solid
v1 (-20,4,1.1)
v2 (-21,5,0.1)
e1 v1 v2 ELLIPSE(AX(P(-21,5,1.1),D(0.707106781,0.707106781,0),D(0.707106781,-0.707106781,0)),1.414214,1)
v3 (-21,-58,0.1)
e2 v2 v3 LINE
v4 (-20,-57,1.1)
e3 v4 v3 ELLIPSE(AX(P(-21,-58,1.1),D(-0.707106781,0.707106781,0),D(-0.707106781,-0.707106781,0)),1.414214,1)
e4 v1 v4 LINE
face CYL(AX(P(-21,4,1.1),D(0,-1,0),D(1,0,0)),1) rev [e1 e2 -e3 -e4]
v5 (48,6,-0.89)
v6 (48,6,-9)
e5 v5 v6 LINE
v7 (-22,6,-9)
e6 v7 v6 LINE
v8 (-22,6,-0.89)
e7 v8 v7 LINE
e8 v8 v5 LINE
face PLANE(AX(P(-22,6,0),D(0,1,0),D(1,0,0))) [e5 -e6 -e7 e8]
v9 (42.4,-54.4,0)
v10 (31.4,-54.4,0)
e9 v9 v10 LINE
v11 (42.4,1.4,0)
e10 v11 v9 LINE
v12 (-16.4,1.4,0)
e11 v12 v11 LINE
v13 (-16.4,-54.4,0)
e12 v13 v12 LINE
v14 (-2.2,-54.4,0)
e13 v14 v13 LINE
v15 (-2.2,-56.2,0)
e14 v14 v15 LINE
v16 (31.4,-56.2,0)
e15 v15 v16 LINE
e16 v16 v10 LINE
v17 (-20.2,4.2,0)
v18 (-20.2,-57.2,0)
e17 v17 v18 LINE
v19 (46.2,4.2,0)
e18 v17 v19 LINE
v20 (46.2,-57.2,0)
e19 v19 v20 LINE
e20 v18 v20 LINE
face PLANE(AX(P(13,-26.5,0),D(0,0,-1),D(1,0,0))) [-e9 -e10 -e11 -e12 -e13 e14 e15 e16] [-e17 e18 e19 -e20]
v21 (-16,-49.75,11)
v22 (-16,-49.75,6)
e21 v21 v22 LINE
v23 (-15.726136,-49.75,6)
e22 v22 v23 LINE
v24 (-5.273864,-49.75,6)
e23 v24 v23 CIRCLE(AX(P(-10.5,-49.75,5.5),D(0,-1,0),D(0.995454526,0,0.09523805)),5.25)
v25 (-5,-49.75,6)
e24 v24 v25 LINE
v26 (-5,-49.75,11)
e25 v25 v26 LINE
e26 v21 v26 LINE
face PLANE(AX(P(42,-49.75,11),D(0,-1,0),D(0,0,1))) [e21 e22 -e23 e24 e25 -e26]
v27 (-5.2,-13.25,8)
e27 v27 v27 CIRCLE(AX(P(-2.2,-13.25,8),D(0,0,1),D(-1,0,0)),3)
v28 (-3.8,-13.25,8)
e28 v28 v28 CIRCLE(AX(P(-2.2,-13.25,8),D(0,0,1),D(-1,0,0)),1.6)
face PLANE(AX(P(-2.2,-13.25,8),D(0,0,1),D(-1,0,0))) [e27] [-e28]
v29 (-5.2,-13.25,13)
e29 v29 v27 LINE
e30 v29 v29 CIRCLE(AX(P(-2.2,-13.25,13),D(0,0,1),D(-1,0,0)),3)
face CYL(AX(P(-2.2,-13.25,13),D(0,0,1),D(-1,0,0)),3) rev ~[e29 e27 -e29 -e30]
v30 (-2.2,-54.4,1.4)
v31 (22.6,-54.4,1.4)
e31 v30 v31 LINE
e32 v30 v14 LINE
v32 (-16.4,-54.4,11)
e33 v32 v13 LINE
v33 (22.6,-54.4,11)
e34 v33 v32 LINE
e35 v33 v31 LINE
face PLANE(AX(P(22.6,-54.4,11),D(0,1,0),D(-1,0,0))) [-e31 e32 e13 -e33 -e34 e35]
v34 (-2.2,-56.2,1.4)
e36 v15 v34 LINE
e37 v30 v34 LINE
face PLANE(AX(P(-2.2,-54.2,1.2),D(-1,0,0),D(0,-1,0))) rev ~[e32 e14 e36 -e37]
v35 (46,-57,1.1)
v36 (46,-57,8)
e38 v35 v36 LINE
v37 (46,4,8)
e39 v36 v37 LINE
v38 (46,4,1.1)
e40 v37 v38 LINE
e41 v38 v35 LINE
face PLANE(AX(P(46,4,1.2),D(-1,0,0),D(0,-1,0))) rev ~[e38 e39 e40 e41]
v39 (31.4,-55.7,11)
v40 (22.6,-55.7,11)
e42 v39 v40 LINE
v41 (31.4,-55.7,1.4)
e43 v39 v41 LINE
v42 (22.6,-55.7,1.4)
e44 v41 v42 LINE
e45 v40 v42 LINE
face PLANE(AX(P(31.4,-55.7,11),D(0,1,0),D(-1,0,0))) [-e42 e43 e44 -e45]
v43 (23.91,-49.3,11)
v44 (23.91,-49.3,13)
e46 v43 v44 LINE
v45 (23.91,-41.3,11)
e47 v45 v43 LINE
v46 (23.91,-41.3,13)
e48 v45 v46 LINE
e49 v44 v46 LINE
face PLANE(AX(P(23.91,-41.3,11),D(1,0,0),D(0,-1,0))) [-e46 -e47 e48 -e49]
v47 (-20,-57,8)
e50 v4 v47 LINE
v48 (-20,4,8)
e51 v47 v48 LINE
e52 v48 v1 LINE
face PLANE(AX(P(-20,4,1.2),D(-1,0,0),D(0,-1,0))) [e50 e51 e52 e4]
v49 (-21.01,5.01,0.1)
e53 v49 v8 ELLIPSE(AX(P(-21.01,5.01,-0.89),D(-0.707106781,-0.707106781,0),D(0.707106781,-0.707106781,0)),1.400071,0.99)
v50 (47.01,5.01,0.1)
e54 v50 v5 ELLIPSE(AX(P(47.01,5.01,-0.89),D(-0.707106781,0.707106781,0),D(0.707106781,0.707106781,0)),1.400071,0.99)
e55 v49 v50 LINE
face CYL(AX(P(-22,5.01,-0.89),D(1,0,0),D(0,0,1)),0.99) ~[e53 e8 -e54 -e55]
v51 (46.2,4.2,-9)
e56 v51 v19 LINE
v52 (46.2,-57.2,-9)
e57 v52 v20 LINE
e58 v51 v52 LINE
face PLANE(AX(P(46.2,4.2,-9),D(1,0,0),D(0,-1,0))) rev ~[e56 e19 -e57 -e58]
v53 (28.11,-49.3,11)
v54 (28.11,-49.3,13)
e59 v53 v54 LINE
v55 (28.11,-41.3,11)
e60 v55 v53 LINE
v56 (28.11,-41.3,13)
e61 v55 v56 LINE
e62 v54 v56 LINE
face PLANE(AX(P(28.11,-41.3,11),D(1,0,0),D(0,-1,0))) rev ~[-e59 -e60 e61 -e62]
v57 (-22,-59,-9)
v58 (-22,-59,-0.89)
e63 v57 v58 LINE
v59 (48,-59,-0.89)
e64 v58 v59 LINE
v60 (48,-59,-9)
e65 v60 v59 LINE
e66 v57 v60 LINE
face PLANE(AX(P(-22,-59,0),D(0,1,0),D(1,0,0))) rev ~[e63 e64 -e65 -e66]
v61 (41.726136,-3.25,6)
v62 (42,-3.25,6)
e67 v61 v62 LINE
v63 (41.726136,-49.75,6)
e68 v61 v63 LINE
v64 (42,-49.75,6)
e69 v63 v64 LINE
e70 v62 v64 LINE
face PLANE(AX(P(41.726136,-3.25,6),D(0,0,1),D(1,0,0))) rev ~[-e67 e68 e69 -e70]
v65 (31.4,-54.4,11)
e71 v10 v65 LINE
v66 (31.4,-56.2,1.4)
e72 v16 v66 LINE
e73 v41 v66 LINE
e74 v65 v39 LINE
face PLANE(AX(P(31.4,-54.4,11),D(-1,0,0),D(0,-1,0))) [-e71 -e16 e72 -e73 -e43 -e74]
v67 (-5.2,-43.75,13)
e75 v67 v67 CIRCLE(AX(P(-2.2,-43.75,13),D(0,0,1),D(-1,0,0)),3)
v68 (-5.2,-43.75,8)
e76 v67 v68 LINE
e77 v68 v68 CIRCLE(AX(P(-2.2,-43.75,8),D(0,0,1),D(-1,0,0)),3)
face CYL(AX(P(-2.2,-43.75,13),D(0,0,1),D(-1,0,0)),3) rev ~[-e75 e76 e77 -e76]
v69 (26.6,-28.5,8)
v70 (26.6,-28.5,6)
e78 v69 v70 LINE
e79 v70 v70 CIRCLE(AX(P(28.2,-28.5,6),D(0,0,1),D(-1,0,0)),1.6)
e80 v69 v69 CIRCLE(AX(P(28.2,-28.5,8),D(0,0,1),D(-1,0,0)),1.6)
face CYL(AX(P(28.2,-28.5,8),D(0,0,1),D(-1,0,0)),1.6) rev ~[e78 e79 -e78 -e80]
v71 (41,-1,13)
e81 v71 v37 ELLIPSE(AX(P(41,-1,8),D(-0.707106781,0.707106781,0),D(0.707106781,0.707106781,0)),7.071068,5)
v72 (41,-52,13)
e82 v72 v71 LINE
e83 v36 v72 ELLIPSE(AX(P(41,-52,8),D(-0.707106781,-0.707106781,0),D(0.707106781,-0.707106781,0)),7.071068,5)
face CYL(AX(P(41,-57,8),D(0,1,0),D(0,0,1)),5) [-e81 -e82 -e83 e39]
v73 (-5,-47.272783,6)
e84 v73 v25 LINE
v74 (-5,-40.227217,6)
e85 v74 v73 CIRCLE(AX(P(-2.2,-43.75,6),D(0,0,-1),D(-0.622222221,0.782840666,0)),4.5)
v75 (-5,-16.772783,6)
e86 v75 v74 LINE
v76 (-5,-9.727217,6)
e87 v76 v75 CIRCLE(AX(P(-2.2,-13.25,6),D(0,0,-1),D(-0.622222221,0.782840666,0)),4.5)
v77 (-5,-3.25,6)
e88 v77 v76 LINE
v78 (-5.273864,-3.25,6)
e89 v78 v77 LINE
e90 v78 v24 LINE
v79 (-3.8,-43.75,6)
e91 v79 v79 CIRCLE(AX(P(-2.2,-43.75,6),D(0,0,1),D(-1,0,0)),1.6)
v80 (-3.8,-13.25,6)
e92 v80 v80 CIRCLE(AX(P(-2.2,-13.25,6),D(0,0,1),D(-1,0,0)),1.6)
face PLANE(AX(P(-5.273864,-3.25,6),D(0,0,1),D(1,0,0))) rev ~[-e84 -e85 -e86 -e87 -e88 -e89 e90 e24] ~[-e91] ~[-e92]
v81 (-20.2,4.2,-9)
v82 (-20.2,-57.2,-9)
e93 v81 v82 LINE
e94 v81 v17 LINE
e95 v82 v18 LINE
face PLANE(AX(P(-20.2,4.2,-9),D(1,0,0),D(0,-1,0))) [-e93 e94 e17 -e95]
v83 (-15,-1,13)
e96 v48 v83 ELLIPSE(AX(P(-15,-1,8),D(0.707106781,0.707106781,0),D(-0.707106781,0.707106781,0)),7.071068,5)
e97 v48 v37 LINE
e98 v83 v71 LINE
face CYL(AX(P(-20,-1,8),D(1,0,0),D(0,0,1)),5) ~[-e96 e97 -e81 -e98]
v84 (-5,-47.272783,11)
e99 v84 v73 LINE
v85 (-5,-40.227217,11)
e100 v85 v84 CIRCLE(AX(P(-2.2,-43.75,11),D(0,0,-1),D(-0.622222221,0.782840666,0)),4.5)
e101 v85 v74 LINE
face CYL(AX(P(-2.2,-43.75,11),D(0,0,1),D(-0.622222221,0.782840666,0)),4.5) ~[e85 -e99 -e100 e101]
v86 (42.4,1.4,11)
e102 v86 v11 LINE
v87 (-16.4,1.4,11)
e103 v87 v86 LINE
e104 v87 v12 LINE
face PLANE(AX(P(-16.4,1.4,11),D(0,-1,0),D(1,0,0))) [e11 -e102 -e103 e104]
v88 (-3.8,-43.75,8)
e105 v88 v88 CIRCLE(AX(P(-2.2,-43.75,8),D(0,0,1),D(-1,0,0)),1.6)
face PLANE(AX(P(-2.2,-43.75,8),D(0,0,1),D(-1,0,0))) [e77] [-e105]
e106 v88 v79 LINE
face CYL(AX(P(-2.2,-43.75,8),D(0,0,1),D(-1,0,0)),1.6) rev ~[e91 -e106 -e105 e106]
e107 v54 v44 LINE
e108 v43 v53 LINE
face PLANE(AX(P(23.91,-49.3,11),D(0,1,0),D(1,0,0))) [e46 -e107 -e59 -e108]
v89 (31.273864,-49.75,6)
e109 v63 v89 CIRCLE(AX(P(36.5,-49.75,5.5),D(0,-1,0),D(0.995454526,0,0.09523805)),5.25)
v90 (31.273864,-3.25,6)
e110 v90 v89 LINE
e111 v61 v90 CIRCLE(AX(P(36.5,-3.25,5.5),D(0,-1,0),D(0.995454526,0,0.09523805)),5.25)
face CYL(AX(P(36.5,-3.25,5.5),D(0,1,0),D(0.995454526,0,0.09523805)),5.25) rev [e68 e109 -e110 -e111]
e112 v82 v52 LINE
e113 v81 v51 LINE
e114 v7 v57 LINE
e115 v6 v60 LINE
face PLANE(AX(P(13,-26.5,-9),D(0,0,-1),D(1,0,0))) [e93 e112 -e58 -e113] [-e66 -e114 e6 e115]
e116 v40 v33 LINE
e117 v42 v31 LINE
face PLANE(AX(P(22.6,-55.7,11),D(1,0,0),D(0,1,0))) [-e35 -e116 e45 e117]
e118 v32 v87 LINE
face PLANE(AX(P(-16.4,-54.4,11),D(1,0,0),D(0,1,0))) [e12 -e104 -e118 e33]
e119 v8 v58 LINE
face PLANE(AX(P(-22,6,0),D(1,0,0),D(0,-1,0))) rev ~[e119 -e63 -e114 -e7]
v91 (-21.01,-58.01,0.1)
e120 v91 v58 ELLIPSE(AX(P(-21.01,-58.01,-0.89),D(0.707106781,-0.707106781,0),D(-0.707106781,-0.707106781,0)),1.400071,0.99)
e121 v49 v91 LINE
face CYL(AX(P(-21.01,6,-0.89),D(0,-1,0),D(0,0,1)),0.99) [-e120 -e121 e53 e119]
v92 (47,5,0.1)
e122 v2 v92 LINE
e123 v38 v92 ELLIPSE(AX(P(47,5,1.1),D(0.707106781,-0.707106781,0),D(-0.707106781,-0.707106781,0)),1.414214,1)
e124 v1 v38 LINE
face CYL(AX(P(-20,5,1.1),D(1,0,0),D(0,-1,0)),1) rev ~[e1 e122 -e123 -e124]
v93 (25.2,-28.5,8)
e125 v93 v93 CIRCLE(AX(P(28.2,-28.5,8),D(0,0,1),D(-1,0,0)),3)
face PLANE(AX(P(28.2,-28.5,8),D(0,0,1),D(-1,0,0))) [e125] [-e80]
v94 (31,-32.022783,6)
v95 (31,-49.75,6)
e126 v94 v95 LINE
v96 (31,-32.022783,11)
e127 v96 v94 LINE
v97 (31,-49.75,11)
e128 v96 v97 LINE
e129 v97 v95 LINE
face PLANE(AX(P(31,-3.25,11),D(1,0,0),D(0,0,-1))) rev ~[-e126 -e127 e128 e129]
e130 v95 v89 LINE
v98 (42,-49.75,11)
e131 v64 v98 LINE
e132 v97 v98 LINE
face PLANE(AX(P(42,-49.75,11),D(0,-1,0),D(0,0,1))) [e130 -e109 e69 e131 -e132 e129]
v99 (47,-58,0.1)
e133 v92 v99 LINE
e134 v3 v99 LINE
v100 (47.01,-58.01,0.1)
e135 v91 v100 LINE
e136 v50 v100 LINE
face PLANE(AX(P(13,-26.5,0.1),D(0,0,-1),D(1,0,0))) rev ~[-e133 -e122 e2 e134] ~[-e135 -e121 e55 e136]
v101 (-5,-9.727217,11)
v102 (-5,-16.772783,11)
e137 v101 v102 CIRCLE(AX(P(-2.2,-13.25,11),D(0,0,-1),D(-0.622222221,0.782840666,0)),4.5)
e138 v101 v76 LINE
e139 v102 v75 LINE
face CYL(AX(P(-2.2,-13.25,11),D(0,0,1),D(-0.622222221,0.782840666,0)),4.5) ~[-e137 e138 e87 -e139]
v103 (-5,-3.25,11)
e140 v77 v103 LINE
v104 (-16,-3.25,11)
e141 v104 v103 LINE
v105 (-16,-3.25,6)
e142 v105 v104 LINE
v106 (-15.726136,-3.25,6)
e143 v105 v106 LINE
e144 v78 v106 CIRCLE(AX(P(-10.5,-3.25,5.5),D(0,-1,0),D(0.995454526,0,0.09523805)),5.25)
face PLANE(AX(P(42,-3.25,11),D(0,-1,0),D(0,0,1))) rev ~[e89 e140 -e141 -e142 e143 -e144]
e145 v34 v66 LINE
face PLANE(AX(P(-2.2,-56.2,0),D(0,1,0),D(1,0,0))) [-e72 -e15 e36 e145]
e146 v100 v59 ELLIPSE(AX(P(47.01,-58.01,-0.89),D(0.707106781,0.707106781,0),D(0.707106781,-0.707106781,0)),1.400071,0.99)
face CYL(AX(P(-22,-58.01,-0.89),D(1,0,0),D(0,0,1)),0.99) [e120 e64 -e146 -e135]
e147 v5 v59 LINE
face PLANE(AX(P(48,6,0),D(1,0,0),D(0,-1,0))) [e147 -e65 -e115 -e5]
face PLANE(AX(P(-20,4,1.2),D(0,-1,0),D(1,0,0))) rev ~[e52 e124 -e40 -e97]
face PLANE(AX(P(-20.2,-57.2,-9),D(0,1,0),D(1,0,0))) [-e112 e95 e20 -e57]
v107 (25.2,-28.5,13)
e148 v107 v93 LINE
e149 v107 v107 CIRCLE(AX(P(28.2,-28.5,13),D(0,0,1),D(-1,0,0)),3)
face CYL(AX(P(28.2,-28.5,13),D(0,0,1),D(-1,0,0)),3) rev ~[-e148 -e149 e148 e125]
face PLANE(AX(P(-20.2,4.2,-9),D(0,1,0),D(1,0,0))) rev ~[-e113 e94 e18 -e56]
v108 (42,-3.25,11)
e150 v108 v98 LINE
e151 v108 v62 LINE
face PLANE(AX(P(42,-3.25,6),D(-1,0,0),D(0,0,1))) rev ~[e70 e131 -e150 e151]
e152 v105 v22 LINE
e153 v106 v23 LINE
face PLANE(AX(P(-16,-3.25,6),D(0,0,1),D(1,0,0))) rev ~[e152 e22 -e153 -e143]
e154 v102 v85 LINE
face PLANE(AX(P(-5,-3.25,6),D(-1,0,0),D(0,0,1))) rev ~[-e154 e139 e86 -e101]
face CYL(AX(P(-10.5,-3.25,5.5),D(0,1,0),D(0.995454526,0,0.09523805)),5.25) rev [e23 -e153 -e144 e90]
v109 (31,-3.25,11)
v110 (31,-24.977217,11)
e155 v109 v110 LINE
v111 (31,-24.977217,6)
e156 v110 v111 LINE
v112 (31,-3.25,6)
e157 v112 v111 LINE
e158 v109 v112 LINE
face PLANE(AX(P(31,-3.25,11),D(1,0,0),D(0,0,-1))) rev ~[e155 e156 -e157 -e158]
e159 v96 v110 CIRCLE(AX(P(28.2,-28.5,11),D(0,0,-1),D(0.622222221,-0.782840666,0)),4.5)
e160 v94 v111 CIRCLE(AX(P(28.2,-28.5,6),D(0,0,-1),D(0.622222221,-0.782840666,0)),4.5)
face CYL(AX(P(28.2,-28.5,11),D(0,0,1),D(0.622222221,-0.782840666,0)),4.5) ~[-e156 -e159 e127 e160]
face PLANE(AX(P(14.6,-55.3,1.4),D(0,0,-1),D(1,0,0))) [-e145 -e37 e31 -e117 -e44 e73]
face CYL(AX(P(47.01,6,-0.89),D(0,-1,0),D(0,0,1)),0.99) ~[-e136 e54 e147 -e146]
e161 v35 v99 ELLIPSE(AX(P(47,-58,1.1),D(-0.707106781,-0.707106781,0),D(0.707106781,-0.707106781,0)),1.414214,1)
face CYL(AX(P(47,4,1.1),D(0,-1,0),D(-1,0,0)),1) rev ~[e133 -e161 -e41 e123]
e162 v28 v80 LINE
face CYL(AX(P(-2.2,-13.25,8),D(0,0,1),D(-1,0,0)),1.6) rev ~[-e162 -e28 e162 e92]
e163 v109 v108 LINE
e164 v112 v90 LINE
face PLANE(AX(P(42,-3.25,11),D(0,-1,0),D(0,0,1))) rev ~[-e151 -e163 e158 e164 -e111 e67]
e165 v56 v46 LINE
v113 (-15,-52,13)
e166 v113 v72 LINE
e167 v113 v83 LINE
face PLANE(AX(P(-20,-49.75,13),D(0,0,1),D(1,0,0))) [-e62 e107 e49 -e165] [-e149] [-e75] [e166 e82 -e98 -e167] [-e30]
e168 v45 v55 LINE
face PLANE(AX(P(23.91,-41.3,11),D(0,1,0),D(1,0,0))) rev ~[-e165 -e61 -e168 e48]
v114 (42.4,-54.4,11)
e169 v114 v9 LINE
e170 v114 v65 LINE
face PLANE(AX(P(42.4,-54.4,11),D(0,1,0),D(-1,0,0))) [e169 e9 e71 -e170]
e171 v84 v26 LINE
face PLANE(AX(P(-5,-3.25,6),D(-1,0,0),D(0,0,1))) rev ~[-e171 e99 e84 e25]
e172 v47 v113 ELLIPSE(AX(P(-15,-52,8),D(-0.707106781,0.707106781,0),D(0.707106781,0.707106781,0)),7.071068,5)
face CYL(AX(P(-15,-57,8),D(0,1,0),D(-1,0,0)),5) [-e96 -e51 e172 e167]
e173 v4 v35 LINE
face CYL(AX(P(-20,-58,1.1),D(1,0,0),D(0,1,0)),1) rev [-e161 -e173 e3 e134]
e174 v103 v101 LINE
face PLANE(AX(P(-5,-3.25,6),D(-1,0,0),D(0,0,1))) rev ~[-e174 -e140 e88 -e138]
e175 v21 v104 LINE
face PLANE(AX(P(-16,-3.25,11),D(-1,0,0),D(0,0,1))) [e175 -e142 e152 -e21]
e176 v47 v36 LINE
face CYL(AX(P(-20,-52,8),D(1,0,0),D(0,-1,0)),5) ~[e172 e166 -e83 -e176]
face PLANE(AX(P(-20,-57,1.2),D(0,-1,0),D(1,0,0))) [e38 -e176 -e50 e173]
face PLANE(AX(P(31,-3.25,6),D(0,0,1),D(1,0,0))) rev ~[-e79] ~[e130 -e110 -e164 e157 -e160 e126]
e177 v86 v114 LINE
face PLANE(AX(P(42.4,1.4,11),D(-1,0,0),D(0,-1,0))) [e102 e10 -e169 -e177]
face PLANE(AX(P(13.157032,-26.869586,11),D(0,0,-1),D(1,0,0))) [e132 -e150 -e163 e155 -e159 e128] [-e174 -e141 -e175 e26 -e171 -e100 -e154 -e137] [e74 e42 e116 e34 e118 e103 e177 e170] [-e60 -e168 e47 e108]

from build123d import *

# Parameters (mm, degrees)
PAD007_DEPTH      = 46.5
SKETCH012_W       = 58
SKETCH012_H       = 2
PAD008_DEPTH      = 46.5
SKETCH013_W       = 2
SKETCH013_H       = 46.5
PAD009_DEPTH      = 62
SKETCH014_W       = 2
SKETCH014_H       = 46.5
PAD010_DEPTH      = 4
SKETCH015_W       = 66
SKETCH015_H       = 2
PAD011_DEPTH      = 7.25
SKETCH016_W       = 66
SKETCH016_H       = 2
PAD012_DEPTH      = 7.25
SKETCH017_W       = 66
SKETCH017_H       = 61
PAD013_DEPTH      = 9.8
SKETCH018_W       = 66
SKETCH018_H       = 61
PAD014_DEPTH      = 1.2
PAD015_DEPTH      = 5
SKETCH020_R       = 2.8
POCKET003_DEPTH   = 5
SKETCH021_R       = 1.5
POCKET004_DEPTH   = 8
SKETCH031_W       = 3.2
SKETCH031_H       = 7
POCKET010_DEPTH   = 5
FILLET_R          = 5
POCKET011_DEPTH   = 11
SKETCH034_W       = 33.6
SKETCH034_H       = 1.8
POCKET012_DEPTH   = 1.4
SKETCH035_W       = 70
SKETCH035_H       = 65
SKETCH035_W_2     = 66
SKETCH035_H_2     = 61
PAD019_DEPTH      = 9
PAD019_DEPTH_BACK = 0.1
FILLET001_R       = 1
FILLET002_R       = 0.99
SKETCH036_W       = 66.4
SKETCH036_H       = 61.4
POCKET013_DEPTH   = 9
SKETCH037_W       = 4.2
SKETCH037_H       = 8
POCKET014_DEPTH   = 5
SKETCH038_R       = 3
POCKET015_DEPTH   = 5
SKETCH039_R       = 1.6
POCKET016_DEPTH   = 5


with BuildPart() as part:
    # Sketch011 (on DatumPlane) → Pad007 (new body)
    with BuildSketch(Plane.XZ.offset(3.25)):
        with BuildLine():
            Line((-5, 11), (-16, 11))
            Line((-16, 11), (-16, 6))
            Line((-16, 6), (-15.726136, 6))
            ThreePointArc((-5.273864, 6), (-10.5, 10.75), (-15.726136, 6))
            Line((-5.273864, 6), (-5, 6))
            Line((-5, 6), (-5, 11))
        make_face()
    extrude(amount=PAD007_DEPTH)

    # Sketch012 (on DatumPlane) → Pad008 (join)
    with BuildSketch(Plane.XZ.offset(3.25)):
        with BuildLine():
            Line((42, 11), (31, 11))
            Line((31, 11), (31, 6))
            Line((31, 6), (31.273864, 6))
            ThreePointArc((41.726136, 6), (36.5, 10.75), (31.273864, 6))
            Line((41.726136, 6), (42, 6))
            Line((42, 6), (42, 11))
        make_face()
        with Locations((13, 12)):
            Rectangle(SKETCH012_W, SKETCH012_H)
    extrude(amount=PAD008_DEPTH)

    # Sketch013 (on Face17 of Pad008) → Pad009 (join)
    with BuildSketch(Plane(origin=(42, -3.25, 0), x_dir=(0, 0, 1), z_dir=(1, 0, 0))):
        with Locations((12, 23.25)):
            Rectangle(SKETCH013_W, SKETCH013_H)
    extrude(amount=-PAD009_DEPTH)

    # Sketch014 (on Face17 of Pad009) → Pad010 (join)
    with BuildSketch(Plane(origin=(42, -3.25, 0), x_dir=(0, 0, 1), z_dir=(1, 0, 0))):
        with Locations((12, 23.25)):
            Rectangle(SKETCH014_W, SKETCH014_H)
    extrude(amount=PAD010_DEPTH)

    # Sketch015 (on Face10 of Pad010) → Pad011 (join)
    with BuildSketch(Plane(origin=(0, -3.25, 0), x_dir=(1, 0, 0), z_dir=(0, 1, 0))):
        with Locations((13, -12)):
            Rectangle(SKETCH015_W, SKETCH015_H)
    extrude(amount=PAD011_DEPTH)

    # Sketch016 (on Face12 of Pad011) → Pad012 (join)
    with BuildSketch(Plane.XZ.offset(49.75)):
        with Locations((13, 12)):
            Rectangle(SKETCH016_W, SKETCH016_H)
    extrude(amount=PAD012_DEPTH)

    # Sketch017 (on Face14 of Pad012) → Pad013 (join)
    with BuildSketch(Plane(origin=(0, -3.25, 11), x_dir=(1, 0, 0), z_dir=(0, 0, -1))):
        with Locations((13, 23.25)):
            Rectangle(SKETCH017_W, SKETCH017_H)
        Polygon((42.2, -4.45), (-16.2, -4.45), (-16.2, 50.95), (22.8, 50.95), (22.8, 52.25), (31.2, 52.25), (31.2, 50.95), (42.2, 50.95), align=None, mode=Mode.SUBTRACT)
    extrude(amount=PAD013_DEPTH)

    # Sketch018 (on Face18 of Pad013) → Pad014 (join)
    with BuildSketch(Plane(origin=(0, -3.25, 1.2), x_dir=(1, 0, 0), z_dir=(0, 0, -1))):
        with Locations((13, 23.25)):
            Rectangle(SKETCH018_W, SKETCH018_H)
        Polygon((-2.2, 52.95), (31.2, 52.95), (31.2, 50.95), (42.2, 50.95), (42.2, -4.45), (-16.2, -4.45), (-16.2, 50.95), (-2.2, 50.95), align=None, mode=Mode.SUBTRACT)
    extrude(amount=PAD014_DEPTH)

    # Sketch019 (on Face13 of Pad014) → Pad015 (join)
    with BuildSketch(Plane(origin=(0, -3.25, 11), x_dir=(1, 0, 0), z_dir=(0, 0, -1))):
        with BuildLine():
            ThreePointArc((-5, 36.977217), (2.3, 40.5), (-5, 44.022783))
            Line((-5, 44.022783), (-5, 36.977217))
        make_face()
        with BuildLine():
            ThreePointArc((-5, 6.477217), (2.3, 10), (-5, 13.522783))
            Line((-5, 13.522783), (-5, 6.477217))
        make_face()
        with BuildLine():
            ThreePointArc((31, 28.772783), (23.7, 25.25), (31, 21.727217))
            Line((31, 28.772783), (31, 21.727217))
        make_face()
    extrude(amount=PAD015_DEPTH)

    # Sketch020 (on Face67 of Pad015) → Pocket003 (cut)
    with BuildSketch(Plane(origin=(0, -3.25, 13), x_dir=(-1, 0, 0), z_dir=(0, 0, 1))):
        with Locations((2.2, 40.5)):
            Circle(SKETCH020_R)
        with Locations((2.2, 10)):
            Circle(SKETCH020_R)
        with Locations((-28.2, 25.25)):
            Circle(SKETCH020_R)
    extrude(amount=-POCKET003_DEPTH, mode=Mode.SUBTRACT)

    # Sketch021 (on Face67 of Pocket003) → Pocket004 (cut)
    with BuildSketch(Plane(origin=(0, -3.25, 13), x_dir=(-1, 0, 0), z_dir=(0, 0, 1))):
        with Locations((-28.2, 25.25)):
            Circle(SKETCH021_R)
        with Locations((2.2, 10)):
            Circle(SKETCH021_R)
        with Locations((2.2, 40.5)):
            Circle(SKETCH021_R)
    extrude(amount=-POCKET004_DEPTH, mode=Mode.SUBTRACT)

    # Sketch031 (on Face14 of Pocket004) → Pocket010 (cut)
    with BuildSketch(Plane(origin=(0, -3.25, 11), x_dir=(1, 0, 0), z_dir=(0, 0, -1))):
        with Locations((26.01, 42.05)):
            Rectangle(SKETCH031_W, SKETCH031_H)
    extrude(amount=-POCKET010_DEPTH, mode=Mode.SUBTRACT)

    # Fillet
    fillet_edges = [part.edges().sort_by_distance(p)[0] for p in [
        (-20, -26.5, 13),
        (-20, -53.375, 13),
        (13, -57, 13),
        (46, -53.375, 13),
        (46, -26.5, 13),
        (46, 0.375, 13),
        (13, 4, 13),
        (-20, 0.375, 13),
    ]]
    fillet(fillet_edges, radius=FILLET_R)

    # Sketch033 (on Face30 of Fillet) → Pocket011 (cut)
    with BuildSketch(Plane(origin=(0, -3.25, 11), x_dir=(1, 0, 0), z_dir=(0, 0, -1))):
        Polygon((22.6, 51.15), (-16.4, 51.15), (-16.4, -4.65), (42.4, -4.65), (42.4, 51.15), (31.4, 51.15), (31.4, 52.45), (22.6, 52.45), align=None)
        Polygon((-16.2, 50.95), (-16.2, -4.45), (42.2, -4.45), (42.2, 50.95), (31.2, 50.95), (31.2, 52.25), (22.8, 52.25), (22.8, 50.95), align=None, mode=Mode.SUBTRACT)
    extrude(amount=POCKET011_DEPTH, mode=Mode.SUBTRACT)

    # Sketch034 (on Face44 of Pocket011) → Pocket012 (cut)
    with BuildSketch(Plane(origin=(0, -3.25, 0), x_dir=(1, 0, 0), z_dir=(0, 0, -1))):
        with Locations((14.6, 52.05)):
            Rectangle(SKETCH034_W, SKETCH034_H)
    extrude(amount=-POCKET012_DEPTH, mode=Mode.SUBTRACT)

    # Sketch035 (on Face44 of Pocket012) → Pad019 (join, two sides)
    with BuildSketch(Plane(origin=(0, -3.25, 0), x_dir=(1, 0, 0), z_dir=(0, 0, -1))) as pad019_sk:
        with Locations((13, 23.25)):
            Rectangle(SKETCH035_W, SKETCH035_H)
        with Locations((13, 23.25)):
            Rectangle(SKETCH035_W_2, SKETCH035_H_2, mode=Mode.SUBTRACT)
    extrude(amount=PAD019_DEPTH)
    extrude(pad019_sk.sketch, amount=-PAD019_DEPTH_BACK)

    # Fillet001
    fillet001_edges = [part.edges().sort_by_distance(p)[0] for p in [
        (46, -26.5, 0.1),
        (13, 4, 0.1),
        (-20, -26.5, 0.1),
        (13, -57, 0.1),
    ]]
    fillet(fillet001_edges, radius=FILLET001_R)

    # Fillet002
    fillet002_edges = [part.edges().sort_by_distance(p)[0] for p in [
        (13, 6, 0.1),
        (-22, -26.5, 0.1),
        (48, -26.5, 0.1),
        (13, -59, 0.1),
    ]]
    fillet(fillet002_edges, radius=FILLET002_R)

    # Sketch036 (on Face18 of Fillet002) → Pocket013 (cut)
    with BuildSketch(Plane(origin=(0, -3.25, -9), x_dir=(1, 0, 0), z_dir=(0, 0, -1))):
        with Locations((13, 23.25)):
            Rectangle(SKETCH036_W, SKETCH036_H)
    extrude(amount=-POCKET013_DEPTH, mode=Mode.SUBTRACT)

    # Sketch037 (on Face58 of Pocket013) → Pocket014 (cut)
    with BuildSketch(Plane(origin=(0, -3.25, 11), x_dir=(1, 0, 0), z_dir=(0, 0, -1))):
        with Locations((26.01, 42.05)):
            Rectangle(SKETCH037_W, SKETCH037_H)
    extrude(amount=-POCKET014_DEPTH, mode=Mode.SUBTRACT)

    # Sketch038 (on Face37 of Pocket014) → Pocket015 (cut)
    with BuildSketch(Plane(origin=(0, -3.25, 13), x_dir=(-1, 0, 0), z_dir=(0, 0, 1))):
        with Locations((2.2, 40.5)):
            Circle(SKETCH038_R)
        with Locations((-28.2, 25.25)):
            Circle(SKETCH038_R)
        with Locations((2.2, 10)):
            Circle(SKETCH038_R)
    extrude(amount=-POCKET015_DEPTH, mode=Mode.SUBTRACT)

    # Sketch039 (on Face66 of Pocket015) → Pocket016 (cut)
    with BuildSketch(Plane(origin=(0, -3.25, 8), x_dir=(-1, 0, 0), z_dir=(0, 0, 1))):
        with Locations((2.2, 40.5)):
            Circle(SKETCH039_R)
        with Locations((-28.2, 25.25)):
            Circle(SKETCH039_R)
        with Locations((2.2, 10)):
            Circle(SKETCH039_R)
    extrude(amount=-POCKET016_DEPTH, mode=Mode.SUBTRACT)


solid = part.part
